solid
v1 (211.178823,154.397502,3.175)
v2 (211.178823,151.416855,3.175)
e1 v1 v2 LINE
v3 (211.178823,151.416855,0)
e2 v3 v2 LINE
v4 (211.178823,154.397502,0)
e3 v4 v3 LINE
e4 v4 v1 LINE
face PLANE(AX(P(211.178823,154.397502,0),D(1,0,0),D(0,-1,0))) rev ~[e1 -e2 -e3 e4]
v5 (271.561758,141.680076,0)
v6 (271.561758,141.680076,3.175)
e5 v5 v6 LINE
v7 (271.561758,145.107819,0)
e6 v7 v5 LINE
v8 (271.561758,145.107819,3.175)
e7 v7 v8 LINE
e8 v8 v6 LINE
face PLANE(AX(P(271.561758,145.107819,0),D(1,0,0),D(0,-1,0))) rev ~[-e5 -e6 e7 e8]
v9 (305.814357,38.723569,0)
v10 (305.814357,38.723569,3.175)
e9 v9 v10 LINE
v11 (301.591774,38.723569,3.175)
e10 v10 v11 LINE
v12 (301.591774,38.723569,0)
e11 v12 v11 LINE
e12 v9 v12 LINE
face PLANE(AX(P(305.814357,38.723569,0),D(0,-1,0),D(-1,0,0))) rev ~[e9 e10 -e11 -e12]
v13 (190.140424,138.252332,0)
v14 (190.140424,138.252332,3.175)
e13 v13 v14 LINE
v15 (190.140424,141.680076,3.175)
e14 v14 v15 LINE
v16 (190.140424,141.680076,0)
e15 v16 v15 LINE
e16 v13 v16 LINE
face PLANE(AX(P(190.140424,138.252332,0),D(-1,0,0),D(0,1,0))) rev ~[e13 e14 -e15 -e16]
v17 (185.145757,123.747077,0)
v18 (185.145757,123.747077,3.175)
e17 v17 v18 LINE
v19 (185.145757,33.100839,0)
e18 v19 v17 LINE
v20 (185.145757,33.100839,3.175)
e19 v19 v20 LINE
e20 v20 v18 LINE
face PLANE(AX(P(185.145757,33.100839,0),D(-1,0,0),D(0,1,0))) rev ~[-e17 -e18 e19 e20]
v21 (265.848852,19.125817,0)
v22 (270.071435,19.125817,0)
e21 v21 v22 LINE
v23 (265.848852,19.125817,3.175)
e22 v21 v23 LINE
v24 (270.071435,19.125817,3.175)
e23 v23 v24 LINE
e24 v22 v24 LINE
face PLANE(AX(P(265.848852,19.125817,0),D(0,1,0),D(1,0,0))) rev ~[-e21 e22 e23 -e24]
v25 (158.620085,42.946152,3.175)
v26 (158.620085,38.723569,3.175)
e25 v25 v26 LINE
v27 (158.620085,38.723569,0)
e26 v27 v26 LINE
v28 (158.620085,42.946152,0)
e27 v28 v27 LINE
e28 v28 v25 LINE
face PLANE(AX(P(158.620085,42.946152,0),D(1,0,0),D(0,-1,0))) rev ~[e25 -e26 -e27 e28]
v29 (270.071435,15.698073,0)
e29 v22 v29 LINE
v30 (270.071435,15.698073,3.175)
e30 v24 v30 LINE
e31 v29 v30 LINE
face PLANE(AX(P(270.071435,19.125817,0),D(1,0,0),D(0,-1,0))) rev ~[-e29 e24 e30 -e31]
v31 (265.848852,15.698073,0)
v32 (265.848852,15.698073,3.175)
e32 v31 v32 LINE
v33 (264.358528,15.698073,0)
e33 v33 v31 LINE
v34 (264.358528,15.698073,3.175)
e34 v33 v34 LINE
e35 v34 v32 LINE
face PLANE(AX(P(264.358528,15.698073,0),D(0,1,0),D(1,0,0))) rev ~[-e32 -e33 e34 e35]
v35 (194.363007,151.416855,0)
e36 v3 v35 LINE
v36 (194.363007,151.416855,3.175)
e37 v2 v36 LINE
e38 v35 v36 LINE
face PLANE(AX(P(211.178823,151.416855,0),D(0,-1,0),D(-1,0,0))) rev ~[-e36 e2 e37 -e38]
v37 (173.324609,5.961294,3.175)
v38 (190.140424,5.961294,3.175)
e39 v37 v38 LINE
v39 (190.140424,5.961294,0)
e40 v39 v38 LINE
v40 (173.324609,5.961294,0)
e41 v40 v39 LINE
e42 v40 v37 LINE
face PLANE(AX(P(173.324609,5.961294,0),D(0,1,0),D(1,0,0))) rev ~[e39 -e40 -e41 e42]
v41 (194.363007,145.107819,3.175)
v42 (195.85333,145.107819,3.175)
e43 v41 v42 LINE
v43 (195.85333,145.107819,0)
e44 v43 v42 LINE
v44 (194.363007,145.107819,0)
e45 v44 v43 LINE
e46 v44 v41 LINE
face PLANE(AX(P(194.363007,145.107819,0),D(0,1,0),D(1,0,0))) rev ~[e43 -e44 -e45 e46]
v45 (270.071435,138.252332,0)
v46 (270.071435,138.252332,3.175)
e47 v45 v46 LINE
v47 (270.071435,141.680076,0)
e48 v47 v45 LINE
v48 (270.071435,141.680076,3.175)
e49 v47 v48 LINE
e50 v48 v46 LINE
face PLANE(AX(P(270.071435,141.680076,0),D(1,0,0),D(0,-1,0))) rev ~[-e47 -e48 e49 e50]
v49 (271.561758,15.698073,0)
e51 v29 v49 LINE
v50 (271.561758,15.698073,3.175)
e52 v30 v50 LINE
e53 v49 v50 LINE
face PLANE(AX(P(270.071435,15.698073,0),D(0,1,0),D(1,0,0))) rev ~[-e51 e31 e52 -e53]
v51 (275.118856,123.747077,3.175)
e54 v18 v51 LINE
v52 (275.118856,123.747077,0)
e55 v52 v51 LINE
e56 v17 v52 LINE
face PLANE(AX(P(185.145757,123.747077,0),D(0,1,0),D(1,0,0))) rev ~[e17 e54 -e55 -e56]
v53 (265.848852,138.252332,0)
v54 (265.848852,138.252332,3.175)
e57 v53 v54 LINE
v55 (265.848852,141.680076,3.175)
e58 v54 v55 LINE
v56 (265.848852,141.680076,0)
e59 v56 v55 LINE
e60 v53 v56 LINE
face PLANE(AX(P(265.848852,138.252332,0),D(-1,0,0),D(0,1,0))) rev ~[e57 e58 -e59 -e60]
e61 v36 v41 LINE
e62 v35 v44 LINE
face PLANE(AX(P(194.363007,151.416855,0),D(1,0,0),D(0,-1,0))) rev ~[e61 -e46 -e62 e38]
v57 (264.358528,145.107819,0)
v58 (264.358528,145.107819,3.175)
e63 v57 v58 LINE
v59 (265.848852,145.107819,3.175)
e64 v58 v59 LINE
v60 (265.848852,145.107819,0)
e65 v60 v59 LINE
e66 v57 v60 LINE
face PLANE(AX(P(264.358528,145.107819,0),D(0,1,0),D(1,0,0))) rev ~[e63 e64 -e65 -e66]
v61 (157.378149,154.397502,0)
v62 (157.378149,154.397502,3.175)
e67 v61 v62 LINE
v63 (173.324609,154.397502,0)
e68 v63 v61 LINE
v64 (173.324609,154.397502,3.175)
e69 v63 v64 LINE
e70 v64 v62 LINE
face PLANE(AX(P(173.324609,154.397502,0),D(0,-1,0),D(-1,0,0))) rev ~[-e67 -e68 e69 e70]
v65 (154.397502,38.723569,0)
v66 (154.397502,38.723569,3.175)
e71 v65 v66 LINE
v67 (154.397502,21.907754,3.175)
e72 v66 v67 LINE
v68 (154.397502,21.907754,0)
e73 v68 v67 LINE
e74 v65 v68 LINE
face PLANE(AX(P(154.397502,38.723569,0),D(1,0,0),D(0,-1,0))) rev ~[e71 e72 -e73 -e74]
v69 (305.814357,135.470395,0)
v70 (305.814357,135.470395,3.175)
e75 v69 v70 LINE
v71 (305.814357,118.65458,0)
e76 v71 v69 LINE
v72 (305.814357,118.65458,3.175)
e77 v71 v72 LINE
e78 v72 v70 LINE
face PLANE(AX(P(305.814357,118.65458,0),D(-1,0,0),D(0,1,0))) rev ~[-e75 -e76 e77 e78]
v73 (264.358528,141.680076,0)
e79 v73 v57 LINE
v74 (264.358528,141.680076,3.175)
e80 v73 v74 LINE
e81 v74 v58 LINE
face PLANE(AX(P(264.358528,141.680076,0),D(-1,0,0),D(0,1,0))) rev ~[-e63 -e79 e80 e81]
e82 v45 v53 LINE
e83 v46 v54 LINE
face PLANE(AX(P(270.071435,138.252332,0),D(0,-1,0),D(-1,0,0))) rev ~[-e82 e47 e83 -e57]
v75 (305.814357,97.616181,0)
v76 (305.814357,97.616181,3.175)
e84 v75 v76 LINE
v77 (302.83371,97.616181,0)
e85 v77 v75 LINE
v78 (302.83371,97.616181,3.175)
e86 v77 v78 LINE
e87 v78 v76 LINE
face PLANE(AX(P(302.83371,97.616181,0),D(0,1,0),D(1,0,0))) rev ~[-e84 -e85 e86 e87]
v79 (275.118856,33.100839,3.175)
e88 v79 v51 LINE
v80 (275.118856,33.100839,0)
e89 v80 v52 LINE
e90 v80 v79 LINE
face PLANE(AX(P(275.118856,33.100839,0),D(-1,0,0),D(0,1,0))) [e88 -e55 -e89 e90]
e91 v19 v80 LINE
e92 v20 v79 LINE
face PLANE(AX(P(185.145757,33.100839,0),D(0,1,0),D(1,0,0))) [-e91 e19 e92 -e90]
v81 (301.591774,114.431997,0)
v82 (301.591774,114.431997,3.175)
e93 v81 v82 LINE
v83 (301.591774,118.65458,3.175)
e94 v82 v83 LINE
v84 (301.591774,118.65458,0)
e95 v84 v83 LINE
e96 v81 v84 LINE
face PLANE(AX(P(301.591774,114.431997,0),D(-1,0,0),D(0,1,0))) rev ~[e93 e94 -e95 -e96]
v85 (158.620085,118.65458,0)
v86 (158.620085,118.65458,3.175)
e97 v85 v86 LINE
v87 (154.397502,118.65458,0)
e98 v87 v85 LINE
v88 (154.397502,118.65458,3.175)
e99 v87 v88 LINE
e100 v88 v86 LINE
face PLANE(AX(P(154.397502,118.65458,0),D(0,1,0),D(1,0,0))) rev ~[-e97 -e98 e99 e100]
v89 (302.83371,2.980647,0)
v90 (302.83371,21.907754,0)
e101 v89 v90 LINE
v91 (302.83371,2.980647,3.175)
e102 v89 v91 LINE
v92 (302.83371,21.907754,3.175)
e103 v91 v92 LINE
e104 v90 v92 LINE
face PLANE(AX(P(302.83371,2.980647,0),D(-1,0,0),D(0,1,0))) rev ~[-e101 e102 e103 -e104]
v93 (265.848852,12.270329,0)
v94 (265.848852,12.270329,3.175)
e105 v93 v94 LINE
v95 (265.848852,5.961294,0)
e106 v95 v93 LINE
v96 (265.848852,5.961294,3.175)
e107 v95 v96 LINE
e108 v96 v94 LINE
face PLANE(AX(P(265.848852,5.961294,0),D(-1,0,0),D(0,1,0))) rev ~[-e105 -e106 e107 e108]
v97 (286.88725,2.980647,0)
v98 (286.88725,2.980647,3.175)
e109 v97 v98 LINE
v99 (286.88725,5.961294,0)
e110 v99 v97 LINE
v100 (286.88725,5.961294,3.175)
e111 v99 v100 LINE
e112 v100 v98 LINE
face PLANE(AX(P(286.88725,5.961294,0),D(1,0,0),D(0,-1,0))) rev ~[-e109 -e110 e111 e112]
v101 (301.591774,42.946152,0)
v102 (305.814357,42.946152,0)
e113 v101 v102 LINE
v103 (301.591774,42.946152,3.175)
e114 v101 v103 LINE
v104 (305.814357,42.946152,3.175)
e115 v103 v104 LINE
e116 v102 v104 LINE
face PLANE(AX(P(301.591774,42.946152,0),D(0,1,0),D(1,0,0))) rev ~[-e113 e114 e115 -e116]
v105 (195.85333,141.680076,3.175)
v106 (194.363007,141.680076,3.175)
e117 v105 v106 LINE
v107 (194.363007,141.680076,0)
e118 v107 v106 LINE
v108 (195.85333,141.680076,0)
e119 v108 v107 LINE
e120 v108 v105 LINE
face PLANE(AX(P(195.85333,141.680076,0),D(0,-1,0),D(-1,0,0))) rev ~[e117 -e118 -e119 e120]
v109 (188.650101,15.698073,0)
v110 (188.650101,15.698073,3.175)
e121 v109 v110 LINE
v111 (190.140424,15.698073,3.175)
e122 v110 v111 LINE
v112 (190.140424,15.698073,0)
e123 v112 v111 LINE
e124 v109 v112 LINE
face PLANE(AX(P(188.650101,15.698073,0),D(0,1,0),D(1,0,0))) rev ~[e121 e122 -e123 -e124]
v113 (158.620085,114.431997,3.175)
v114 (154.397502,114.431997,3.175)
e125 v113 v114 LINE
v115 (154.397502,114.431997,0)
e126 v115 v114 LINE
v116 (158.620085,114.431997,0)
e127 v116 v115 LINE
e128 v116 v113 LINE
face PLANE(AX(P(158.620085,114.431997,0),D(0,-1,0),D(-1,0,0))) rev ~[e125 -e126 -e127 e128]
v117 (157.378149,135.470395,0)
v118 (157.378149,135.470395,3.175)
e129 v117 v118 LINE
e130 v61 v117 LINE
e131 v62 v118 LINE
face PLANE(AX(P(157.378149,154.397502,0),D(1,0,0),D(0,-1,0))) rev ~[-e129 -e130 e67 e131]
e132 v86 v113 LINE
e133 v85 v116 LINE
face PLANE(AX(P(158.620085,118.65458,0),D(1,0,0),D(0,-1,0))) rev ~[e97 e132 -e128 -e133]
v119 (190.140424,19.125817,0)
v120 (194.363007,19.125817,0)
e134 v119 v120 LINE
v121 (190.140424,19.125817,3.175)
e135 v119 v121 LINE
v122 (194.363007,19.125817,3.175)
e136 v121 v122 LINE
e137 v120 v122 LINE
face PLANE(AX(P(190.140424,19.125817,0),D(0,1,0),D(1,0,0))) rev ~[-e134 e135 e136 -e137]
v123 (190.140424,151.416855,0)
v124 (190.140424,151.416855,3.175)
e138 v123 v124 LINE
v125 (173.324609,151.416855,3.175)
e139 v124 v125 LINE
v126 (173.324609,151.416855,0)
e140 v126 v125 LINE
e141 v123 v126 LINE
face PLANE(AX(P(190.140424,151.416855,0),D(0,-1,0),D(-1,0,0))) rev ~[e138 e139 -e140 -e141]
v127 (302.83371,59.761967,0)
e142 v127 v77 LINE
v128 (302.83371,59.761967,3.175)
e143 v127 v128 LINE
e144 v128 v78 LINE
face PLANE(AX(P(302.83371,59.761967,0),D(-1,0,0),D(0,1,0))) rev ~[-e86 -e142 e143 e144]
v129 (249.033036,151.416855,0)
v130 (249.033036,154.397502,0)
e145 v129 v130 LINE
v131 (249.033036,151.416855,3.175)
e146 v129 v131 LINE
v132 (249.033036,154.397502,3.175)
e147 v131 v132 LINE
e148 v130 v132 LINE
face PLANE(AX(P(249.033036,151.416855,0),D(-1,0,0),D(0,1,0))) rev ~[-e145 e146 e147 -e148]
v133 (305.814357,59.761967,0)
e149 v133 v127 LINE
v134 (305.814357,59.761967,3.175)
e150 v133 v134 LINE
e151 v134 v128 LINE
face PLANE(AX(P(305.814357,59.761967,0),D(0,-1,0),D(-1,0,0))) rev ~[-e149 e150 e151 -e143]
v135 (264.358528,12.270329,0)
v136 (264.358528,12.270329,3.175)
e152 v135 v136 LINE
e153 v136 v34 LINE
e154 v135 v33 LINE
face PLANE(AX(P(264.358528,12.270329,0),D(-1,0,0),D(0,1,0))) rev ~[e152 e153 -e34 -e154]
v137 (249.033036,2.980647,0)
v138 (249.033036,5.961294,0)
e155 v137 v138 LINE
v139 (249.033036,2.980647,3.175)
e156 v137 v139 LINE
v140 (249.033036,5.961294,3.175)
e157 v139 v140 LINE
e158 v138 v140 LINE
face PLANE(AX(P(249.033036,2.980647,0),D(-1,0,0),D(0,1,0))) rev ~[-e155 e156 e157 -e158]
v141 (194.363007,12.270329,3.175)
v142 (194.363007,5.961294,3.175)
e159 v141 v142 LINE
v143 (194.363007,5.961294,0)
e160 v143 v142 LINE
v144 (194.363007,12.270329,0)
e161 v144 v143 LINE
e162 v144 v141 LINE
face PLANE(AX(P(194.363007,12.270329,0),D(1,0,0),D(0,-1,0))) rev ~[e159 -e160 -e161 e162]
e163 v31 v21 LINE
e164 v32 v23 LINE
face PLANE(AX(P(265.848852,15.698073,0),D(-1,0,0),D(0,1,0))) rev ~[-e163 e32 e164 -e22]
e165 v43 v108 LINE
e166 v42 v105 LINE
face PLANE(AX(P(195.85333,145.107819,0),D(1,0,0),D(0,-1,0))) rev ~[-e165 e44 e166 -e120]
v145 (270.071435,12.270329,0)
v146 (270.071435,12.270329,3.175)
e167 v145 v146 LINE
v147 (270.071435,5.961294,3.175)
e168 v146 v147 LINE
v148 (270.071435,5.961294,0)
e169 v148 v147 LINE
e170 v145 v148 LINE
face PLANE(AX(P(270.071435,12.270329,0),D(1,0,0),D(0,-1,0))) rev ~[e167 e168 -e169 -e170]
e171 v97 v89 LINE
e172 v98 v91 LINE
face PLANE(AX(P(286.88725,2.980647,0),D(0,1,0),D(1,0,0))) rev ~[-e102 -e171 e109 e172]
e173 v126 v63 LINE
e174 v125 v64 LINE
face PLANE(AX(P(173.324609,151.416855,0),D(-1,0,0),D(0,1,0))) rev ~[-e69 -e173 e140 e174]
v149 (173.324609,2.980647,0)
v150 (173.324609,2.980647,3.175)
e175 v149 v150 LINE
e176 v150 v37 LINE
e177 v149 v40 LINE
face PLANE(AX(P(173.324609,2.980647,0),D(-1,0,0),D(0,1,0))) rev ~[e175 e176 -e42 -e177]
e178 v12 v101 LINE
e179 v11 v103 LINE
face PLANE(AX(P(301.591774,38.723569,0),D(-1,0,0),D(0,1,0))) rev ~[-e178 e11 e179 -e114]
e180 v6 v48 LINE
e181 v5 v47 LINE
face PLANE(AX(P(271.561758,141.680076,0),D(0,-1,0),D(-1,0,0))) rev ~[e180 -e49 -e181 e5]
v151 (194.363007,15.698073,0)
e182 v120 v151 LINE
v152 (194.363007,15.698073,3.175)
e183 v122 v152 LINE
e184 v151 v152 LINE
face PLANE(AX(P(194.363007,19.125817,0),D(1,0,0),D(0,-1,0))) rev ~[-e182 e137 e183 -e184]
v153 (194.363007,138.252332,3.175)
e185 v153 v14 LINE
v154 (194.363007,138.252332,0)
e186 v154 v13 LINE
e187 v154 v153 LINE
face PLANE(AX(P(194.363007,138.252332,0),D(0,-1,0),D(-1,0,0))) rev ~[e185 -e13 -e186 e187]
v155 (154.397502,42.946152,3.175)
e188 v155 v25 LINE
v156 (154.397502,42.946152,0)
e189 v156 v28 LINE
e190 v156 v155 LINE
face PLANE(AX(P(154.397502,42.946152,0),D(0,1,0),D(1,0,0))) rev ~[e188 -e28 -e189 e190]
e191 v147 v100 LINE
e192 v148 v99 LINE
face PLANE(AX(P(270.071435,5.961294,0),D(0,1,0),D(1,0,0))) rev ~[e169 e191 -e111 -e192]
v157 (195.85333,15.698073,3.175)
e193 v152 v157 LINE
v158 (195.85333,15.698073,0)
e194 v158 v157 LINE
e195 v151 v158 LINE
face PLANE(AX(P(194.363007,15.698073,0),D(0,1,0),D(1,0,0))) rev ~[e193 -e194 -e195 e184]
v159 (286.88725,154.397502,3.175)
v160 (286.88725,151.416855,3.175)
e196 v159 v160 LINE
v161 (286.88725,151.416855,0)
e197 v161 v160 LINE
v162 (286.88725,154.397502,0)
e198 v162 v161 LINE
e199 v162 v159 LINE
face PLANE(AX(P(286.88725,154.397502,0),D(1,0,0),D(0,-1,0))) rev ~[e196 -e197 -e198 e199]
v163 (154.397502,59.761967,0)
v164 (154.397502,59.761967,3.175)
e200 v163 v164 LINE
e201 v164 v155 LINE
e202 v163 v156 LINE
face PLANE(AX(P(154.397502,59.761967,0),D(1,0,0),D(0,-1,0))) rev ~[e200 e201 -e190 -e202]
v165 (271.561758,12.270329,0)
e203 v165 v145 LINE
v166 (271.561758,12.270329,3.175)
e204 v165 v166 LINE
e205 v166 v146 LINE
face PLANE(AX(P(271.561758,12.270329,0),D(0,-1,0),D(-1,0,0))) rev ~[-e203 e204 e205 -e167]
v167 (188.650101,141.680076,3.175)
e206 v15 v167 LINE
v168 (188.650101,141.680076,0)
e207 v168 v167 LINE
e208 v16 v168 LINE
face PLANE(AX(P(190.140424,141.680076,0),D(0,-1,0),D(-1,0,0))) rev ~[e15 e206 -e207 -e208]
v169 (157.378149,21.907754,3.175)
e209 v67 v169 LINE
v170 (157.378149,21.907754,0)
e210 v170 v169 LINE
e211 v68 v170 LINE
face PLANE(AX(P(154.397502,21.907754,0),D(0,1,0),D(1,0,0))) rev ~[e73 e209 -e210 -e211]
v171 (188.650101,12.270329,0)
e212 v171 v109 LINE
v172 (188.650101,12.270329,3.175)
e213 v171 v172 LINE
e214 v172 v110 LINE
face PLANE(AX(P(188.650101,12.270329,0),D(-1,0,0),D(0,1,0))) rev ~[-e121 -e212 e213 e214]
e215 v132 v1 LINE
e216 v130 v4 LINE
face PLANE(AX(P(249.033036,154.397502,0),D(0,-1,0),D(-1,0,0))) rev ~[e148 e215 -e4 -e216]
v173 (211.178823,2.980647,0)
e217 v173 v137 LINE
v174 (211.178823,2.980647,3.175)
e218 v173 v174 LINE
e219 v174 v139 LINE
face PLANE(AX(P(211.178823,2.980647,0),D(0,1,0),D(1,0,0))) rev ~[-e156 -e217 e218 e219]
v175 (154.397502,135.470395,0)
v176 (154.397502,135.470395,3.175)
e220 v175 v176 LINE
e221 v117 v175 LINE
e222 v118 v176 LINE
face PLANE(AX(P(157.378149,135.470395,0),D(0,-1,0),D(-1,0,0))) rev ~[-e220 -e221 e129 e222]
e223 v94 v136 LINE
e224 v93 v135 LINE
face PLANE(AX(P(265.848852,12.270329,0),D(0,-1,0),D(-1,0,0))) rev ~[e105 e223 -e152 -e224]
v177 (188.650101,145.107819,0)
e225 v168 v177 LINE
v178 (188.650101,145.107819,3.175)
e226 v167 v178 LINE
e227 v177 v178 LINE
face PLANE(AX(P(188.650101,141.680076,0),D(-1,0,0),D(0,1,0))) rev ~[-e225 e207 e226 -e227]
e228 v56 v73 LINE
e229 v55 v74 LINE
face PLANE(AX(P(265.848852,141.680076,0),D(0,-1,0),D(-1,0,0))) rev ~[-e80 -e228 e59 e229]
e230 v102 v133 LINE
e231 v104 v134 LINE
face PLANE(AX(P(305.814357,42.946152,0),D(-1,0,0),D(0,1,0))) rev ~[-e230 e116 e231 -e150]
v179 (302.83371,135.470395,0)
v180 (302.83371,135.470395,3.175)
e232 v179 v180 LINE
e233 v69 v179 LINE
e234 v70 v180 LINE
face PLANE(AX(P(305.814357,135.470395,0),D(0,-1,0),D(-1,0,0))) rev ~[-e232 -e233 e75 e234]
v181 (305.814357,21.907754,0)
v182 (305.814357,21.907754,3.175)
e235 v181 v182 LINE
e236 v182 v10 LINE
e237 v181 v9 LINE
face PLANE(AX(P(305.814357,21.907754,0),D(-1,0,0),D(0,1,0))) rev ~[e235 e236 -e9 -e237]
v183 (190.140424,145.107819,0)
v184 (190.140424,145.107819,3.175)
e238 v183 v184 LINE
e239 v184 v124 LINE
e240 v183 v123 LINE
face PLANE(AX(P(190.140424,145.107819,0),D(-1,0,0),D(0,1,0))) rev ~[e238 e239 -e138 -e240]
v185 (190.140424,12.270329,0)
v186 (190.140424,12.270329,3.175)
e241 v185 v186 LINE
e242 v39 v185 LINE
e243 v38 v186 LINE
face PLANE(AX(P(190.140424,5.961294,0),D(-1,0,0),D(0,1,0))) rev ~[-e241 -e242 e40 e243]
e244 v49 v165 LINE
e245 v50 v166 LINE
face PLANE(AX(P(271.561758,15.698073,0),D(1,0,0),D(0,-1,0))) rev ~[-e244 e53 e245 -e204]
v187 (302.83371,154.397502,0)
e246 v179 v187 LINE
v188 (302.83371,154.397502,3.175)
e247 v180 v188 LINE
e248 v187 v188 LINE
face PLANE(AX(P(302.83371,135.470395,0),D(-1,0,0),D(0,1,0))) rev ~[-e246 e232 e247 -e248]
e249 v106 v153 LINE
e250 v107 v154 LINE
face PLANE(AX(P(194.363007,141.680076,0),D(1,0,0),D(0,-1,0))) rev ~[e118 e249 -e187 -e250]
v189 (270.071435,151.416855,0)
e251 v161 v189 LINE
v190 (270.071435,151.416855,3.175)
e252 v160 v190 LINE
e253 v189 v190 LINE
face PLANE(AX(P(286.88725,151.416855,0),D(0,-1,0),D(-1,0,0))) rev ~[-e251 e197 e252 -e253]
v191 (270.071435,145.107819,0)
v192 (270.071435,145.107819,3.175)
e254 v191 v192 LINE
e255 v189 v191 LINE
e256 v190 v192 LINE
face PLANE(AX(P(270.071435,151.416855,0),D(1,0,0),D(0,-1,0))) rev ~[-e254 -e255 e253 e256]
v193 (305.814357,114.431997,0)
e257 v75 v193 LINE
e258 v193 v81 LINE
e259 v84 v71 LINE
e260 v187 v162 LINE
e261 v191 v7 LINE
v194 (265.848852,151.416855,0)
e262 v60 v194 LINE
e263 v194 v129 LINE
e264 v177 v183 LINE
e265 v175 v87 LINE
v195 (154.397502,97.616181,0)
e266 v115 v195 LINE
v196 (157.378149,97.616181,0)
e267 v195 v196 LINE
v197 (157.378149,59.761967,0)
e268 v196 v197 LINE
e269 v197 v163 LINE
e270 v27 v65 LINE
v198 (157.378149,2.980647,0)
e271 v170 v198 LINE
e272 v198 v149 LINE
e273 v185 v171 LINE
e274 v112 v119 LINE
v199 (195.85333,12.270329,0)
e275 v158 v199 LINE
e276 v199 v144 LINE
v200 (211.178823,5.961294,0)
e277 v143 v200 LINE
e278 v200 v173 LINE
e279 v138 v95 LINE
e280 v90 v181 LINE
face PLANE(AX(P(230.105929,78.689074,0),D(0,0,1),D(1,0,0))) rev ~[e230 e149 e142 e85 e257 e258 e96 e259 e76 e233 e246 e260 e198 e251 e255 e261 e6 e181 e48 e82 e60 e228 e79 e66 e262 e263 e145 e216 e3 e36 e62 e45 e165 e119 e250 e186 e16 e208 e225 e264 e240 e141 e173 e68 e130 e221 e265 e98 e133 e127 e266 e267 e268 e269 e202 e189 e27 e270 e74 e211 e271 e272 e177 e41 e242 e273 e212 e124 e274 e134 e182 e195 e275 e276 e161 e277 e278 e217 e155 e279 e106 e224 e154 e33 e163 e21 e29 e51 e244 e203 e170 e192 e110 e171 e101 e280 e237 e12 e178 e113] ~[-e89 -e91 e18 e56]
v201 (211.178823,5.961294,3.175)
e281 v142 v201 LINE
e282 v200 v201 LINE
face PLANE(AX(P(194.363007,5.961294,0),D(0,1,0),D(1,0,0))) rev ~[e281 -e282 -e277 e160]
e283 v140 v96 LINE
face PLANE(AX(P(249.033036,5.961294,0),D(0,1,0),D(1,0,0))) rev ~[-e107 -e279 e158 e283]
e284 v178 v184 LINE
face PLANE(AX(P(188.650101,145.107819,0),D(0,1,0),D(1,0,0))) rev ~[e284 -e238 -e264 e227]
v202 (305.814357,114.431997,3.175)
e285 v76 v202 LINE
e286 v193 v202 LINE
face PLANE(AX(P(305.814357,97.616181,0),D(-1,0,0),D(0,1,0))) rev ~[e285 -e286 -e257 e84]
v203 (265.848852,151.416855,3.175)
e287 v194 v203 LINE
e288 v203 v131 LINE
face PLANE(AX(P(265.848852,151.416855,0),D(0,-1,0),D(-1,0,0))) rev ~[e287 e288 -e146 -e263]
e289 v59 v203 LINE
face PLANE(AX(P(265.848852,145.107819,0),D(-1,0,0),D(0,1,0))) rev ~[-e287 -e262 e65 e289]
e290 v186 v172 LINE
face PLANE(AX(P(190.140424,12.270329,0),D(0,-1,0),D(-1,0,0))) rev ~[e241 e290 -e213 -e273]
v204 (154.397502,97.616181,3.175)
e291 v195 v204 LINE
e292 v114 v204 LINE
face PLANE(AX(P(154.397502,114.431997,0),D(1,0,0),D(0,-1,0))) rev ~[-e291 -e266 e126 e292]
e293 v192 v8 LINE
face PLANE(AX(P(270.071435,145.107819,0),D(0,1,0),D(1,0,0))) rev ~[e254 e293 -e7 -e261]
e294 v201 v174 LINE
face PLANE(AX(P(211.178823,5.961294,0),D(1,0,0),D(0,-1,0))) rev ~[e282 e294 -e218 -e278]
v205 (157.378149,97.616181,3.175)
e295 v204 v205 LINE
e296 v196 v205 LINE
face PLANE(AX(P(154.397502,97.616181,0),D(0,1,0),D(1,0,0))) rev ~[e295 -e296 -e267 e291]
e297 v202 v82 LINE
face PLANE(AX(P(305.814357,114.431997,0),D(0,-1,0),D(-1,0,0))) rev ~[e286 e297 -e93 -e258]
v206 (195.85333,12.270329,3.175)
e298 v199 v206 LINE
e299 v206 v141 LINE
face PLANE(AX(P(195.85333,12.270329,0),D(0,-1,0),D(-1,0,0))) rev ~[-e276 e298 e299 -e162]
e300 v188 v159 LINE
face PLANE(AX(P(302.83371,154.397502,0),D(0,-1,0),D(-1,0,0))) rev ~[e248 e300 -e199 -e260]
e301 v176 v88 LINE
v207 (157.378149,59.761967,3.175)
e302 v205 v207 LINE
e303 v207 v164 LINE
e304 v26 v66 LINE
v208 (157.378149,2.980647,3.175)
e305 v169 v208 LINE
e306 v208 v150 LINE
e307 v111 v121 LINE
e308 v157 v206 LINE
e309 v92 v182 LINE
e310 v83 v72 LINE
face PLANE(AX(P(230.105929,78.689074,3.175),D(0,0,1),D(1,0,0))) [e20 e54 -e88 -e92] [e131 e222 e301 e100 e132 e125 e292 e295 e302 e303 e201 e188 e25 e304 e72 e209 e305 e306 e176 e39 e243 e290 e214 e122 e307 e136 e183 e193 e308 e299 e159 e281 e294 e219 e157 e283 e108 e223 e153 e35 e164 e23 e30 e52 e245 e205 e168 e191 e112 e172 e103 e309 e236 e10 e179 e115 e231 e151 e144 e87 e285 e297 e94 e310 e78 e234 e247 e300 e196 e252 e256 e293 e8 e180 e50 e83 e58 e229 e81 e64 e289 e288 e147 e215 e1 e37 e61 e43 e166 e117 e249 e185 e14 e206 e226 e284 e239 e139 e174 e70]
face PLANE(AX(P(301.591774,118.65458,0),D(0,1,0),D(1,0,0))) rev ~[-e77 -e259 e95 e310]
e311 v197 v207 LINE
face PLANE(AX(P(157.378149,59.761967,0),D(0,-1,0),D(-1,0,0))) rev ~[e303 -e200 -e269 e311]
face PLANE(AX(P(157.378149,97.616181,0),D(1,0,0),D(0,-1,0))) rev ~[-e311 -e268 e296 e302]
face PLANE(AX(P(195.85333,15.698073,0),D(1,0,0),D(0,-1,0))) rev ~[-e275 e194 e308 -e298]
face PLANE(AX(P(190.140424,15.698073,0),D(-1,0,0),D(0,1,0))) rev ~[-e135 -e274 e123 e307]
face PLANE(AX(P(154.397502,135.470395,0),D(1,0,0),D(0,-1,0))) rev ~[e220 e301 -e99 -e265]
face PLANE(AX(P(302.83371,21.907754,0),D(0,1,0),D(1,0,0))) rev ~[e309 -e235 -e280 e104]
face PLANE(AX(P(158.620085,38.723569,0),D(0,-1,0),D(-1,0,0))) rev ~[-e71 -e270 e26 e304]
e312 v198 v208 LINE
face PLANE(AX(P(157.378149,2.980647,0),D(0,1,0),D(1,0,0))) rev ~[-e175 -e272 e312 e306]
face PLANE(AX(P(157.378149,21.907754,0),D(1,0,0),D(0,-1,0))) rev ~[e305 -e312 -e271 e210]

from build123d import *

# Parameters (mm, degrees)
SKETCH1_W           = 89.973098965
SKETCH1_H           = 90.646237782
BOSS_EXTRUDE1_DEPTH = 3.175


with BuildPart() as part:
    # Sketch1 → Boss-Extrude1 (new body)
    with BuildSketch(Plane.XY):
        Polygon((157.378148634, 154.39750188), (157.378148634, 135.470394989), (154.39750188, 135.470394989), (154.39750188, 118.65457955), (158.620084782, 118.65457955), (158.620084782, 116.543288099), (158.620084782, 114.431996648), (154.39750188, 114.431996648), (154.39750188, 97.616181208), (157.378148634, 97.616181208), (157.378148634, 59.761967427), (154.39750188, 59.761967427), (154.39750188, 42.946151987), (158.620084782, 42.946151987), (158.620084782, 40.834860536), (158.620084782, 38.723569085), (154.39750188, 38.723569085), (154.39750188, 21.907753645), (157.378148634, 21.907753645), (157.378148634, 2.980646754), (173.324608771, 2.980646754), (173.324608771, 5.961293509), (190.14042421, 5.961293509), (190.14042421, 12.270329139), (188.650100833, 12.270329139), (188.650100833, 15.698072907), (190.14042421, 15.698072907), (190.14042421, 19.125816674), (194.363007113, 19.125816674), (194.363007113, 15.698072907), (195.85333049, 15.698072907), (195.85333049, 12.270329139), (194.363007113, 12.270329139), (194.363007113, 5.961293509), (211.178822552, 5.961293509), (211.178822552, 2.980646754), (249.033036334, 2.980646754), (249.033036334, 5.961293509), (265.848851773, 5.961293509), (265.848851773, 12.270329139), (264.358528396, 12.270329139), (264.358528396, 15.698072907), (265.848851773, 15.698072907), (265.848851773, 19.125816674), (270.071434675, 19.125816674), (270.071434675, 15.698072907), (271.561758053, 15.698072907), (271.561758053, 12.270329139), (270.071434675, 12.270329139), (270.071434675, 5.961293509), (286.887250115, 5.961293509), (286.887250115, 2.980646754), (302.833710251, 2.980646754), (302.833710251, 21.907753645), (305.814357006, 21.907753645), (305.814357006, 38.723569085), (301.591774104, 38.723569085), (301.591774104, 40.834860536), (301.591774104, 42.946151987), (305.814357006, 42.946151987), (305.814357006, 59.761967427), (302.833710251, 59.761967427), (302.833710251, 97.616181208), (305.814357006, 97.616181208), (305.814357006, 114.431996648), (301.591774104, 114.431996648), (301.591774104, 116.543288099), (301.591774104, 118.65457955), (305.814357006, 118.65457955), (305.814357006, 135.470394989), (302.833710251, 135.470394989), (302.833710251, 154.39750188), (286.887250115, 154.39750188), (286.887250115, 151.416855126), (270.071434675, 151.416855126), (270.071434675, 145.107819495), (271.561758053, 145.107819495), (271.561758053, 141.680075728), (270.071434675, 141.680075728), (270.071434675, 138.25233196), (265.848851773, 138.25233196), (265.848851773, 141.680075728), (264.358528396, 141.680075728), (264.358528396, 145.107819495), (265.848851773, 145.107819495), (265.848851773, 151.416855126), (249.033036334, 151.416855126), (249.033036334, 154.39750188), (211.178822552, 154.39750188), (211.178822552, 151.416855126), (194.363007113, 151.416855126), (194.363007113, 145.107819495), (195.85333049, 145.107819495), (195.85333049, 141.680075728), (194.363007113, 141.680075728), (194.363007113, 138.25233196), (190.14042421, 138.25233196), (190.14042421, 141.680075728), (188.650100833, 141.680075728), (188.650100833, 145.107819495), (190.14042421, 145.107819495), (190.14042421, 151.416855126), (173.324608771, 151.416855126), (173.324608771, 154.39750188), align=None)
        with Locations((230.132306119, 78.423957663)):
            Rectangle(SKETCH1_W, SKETCH1_H, mode=Mode.SUBTRACT)
    extrude(amount=BOSS_EXTRUDE1_DEPTH)


solid = part.part
